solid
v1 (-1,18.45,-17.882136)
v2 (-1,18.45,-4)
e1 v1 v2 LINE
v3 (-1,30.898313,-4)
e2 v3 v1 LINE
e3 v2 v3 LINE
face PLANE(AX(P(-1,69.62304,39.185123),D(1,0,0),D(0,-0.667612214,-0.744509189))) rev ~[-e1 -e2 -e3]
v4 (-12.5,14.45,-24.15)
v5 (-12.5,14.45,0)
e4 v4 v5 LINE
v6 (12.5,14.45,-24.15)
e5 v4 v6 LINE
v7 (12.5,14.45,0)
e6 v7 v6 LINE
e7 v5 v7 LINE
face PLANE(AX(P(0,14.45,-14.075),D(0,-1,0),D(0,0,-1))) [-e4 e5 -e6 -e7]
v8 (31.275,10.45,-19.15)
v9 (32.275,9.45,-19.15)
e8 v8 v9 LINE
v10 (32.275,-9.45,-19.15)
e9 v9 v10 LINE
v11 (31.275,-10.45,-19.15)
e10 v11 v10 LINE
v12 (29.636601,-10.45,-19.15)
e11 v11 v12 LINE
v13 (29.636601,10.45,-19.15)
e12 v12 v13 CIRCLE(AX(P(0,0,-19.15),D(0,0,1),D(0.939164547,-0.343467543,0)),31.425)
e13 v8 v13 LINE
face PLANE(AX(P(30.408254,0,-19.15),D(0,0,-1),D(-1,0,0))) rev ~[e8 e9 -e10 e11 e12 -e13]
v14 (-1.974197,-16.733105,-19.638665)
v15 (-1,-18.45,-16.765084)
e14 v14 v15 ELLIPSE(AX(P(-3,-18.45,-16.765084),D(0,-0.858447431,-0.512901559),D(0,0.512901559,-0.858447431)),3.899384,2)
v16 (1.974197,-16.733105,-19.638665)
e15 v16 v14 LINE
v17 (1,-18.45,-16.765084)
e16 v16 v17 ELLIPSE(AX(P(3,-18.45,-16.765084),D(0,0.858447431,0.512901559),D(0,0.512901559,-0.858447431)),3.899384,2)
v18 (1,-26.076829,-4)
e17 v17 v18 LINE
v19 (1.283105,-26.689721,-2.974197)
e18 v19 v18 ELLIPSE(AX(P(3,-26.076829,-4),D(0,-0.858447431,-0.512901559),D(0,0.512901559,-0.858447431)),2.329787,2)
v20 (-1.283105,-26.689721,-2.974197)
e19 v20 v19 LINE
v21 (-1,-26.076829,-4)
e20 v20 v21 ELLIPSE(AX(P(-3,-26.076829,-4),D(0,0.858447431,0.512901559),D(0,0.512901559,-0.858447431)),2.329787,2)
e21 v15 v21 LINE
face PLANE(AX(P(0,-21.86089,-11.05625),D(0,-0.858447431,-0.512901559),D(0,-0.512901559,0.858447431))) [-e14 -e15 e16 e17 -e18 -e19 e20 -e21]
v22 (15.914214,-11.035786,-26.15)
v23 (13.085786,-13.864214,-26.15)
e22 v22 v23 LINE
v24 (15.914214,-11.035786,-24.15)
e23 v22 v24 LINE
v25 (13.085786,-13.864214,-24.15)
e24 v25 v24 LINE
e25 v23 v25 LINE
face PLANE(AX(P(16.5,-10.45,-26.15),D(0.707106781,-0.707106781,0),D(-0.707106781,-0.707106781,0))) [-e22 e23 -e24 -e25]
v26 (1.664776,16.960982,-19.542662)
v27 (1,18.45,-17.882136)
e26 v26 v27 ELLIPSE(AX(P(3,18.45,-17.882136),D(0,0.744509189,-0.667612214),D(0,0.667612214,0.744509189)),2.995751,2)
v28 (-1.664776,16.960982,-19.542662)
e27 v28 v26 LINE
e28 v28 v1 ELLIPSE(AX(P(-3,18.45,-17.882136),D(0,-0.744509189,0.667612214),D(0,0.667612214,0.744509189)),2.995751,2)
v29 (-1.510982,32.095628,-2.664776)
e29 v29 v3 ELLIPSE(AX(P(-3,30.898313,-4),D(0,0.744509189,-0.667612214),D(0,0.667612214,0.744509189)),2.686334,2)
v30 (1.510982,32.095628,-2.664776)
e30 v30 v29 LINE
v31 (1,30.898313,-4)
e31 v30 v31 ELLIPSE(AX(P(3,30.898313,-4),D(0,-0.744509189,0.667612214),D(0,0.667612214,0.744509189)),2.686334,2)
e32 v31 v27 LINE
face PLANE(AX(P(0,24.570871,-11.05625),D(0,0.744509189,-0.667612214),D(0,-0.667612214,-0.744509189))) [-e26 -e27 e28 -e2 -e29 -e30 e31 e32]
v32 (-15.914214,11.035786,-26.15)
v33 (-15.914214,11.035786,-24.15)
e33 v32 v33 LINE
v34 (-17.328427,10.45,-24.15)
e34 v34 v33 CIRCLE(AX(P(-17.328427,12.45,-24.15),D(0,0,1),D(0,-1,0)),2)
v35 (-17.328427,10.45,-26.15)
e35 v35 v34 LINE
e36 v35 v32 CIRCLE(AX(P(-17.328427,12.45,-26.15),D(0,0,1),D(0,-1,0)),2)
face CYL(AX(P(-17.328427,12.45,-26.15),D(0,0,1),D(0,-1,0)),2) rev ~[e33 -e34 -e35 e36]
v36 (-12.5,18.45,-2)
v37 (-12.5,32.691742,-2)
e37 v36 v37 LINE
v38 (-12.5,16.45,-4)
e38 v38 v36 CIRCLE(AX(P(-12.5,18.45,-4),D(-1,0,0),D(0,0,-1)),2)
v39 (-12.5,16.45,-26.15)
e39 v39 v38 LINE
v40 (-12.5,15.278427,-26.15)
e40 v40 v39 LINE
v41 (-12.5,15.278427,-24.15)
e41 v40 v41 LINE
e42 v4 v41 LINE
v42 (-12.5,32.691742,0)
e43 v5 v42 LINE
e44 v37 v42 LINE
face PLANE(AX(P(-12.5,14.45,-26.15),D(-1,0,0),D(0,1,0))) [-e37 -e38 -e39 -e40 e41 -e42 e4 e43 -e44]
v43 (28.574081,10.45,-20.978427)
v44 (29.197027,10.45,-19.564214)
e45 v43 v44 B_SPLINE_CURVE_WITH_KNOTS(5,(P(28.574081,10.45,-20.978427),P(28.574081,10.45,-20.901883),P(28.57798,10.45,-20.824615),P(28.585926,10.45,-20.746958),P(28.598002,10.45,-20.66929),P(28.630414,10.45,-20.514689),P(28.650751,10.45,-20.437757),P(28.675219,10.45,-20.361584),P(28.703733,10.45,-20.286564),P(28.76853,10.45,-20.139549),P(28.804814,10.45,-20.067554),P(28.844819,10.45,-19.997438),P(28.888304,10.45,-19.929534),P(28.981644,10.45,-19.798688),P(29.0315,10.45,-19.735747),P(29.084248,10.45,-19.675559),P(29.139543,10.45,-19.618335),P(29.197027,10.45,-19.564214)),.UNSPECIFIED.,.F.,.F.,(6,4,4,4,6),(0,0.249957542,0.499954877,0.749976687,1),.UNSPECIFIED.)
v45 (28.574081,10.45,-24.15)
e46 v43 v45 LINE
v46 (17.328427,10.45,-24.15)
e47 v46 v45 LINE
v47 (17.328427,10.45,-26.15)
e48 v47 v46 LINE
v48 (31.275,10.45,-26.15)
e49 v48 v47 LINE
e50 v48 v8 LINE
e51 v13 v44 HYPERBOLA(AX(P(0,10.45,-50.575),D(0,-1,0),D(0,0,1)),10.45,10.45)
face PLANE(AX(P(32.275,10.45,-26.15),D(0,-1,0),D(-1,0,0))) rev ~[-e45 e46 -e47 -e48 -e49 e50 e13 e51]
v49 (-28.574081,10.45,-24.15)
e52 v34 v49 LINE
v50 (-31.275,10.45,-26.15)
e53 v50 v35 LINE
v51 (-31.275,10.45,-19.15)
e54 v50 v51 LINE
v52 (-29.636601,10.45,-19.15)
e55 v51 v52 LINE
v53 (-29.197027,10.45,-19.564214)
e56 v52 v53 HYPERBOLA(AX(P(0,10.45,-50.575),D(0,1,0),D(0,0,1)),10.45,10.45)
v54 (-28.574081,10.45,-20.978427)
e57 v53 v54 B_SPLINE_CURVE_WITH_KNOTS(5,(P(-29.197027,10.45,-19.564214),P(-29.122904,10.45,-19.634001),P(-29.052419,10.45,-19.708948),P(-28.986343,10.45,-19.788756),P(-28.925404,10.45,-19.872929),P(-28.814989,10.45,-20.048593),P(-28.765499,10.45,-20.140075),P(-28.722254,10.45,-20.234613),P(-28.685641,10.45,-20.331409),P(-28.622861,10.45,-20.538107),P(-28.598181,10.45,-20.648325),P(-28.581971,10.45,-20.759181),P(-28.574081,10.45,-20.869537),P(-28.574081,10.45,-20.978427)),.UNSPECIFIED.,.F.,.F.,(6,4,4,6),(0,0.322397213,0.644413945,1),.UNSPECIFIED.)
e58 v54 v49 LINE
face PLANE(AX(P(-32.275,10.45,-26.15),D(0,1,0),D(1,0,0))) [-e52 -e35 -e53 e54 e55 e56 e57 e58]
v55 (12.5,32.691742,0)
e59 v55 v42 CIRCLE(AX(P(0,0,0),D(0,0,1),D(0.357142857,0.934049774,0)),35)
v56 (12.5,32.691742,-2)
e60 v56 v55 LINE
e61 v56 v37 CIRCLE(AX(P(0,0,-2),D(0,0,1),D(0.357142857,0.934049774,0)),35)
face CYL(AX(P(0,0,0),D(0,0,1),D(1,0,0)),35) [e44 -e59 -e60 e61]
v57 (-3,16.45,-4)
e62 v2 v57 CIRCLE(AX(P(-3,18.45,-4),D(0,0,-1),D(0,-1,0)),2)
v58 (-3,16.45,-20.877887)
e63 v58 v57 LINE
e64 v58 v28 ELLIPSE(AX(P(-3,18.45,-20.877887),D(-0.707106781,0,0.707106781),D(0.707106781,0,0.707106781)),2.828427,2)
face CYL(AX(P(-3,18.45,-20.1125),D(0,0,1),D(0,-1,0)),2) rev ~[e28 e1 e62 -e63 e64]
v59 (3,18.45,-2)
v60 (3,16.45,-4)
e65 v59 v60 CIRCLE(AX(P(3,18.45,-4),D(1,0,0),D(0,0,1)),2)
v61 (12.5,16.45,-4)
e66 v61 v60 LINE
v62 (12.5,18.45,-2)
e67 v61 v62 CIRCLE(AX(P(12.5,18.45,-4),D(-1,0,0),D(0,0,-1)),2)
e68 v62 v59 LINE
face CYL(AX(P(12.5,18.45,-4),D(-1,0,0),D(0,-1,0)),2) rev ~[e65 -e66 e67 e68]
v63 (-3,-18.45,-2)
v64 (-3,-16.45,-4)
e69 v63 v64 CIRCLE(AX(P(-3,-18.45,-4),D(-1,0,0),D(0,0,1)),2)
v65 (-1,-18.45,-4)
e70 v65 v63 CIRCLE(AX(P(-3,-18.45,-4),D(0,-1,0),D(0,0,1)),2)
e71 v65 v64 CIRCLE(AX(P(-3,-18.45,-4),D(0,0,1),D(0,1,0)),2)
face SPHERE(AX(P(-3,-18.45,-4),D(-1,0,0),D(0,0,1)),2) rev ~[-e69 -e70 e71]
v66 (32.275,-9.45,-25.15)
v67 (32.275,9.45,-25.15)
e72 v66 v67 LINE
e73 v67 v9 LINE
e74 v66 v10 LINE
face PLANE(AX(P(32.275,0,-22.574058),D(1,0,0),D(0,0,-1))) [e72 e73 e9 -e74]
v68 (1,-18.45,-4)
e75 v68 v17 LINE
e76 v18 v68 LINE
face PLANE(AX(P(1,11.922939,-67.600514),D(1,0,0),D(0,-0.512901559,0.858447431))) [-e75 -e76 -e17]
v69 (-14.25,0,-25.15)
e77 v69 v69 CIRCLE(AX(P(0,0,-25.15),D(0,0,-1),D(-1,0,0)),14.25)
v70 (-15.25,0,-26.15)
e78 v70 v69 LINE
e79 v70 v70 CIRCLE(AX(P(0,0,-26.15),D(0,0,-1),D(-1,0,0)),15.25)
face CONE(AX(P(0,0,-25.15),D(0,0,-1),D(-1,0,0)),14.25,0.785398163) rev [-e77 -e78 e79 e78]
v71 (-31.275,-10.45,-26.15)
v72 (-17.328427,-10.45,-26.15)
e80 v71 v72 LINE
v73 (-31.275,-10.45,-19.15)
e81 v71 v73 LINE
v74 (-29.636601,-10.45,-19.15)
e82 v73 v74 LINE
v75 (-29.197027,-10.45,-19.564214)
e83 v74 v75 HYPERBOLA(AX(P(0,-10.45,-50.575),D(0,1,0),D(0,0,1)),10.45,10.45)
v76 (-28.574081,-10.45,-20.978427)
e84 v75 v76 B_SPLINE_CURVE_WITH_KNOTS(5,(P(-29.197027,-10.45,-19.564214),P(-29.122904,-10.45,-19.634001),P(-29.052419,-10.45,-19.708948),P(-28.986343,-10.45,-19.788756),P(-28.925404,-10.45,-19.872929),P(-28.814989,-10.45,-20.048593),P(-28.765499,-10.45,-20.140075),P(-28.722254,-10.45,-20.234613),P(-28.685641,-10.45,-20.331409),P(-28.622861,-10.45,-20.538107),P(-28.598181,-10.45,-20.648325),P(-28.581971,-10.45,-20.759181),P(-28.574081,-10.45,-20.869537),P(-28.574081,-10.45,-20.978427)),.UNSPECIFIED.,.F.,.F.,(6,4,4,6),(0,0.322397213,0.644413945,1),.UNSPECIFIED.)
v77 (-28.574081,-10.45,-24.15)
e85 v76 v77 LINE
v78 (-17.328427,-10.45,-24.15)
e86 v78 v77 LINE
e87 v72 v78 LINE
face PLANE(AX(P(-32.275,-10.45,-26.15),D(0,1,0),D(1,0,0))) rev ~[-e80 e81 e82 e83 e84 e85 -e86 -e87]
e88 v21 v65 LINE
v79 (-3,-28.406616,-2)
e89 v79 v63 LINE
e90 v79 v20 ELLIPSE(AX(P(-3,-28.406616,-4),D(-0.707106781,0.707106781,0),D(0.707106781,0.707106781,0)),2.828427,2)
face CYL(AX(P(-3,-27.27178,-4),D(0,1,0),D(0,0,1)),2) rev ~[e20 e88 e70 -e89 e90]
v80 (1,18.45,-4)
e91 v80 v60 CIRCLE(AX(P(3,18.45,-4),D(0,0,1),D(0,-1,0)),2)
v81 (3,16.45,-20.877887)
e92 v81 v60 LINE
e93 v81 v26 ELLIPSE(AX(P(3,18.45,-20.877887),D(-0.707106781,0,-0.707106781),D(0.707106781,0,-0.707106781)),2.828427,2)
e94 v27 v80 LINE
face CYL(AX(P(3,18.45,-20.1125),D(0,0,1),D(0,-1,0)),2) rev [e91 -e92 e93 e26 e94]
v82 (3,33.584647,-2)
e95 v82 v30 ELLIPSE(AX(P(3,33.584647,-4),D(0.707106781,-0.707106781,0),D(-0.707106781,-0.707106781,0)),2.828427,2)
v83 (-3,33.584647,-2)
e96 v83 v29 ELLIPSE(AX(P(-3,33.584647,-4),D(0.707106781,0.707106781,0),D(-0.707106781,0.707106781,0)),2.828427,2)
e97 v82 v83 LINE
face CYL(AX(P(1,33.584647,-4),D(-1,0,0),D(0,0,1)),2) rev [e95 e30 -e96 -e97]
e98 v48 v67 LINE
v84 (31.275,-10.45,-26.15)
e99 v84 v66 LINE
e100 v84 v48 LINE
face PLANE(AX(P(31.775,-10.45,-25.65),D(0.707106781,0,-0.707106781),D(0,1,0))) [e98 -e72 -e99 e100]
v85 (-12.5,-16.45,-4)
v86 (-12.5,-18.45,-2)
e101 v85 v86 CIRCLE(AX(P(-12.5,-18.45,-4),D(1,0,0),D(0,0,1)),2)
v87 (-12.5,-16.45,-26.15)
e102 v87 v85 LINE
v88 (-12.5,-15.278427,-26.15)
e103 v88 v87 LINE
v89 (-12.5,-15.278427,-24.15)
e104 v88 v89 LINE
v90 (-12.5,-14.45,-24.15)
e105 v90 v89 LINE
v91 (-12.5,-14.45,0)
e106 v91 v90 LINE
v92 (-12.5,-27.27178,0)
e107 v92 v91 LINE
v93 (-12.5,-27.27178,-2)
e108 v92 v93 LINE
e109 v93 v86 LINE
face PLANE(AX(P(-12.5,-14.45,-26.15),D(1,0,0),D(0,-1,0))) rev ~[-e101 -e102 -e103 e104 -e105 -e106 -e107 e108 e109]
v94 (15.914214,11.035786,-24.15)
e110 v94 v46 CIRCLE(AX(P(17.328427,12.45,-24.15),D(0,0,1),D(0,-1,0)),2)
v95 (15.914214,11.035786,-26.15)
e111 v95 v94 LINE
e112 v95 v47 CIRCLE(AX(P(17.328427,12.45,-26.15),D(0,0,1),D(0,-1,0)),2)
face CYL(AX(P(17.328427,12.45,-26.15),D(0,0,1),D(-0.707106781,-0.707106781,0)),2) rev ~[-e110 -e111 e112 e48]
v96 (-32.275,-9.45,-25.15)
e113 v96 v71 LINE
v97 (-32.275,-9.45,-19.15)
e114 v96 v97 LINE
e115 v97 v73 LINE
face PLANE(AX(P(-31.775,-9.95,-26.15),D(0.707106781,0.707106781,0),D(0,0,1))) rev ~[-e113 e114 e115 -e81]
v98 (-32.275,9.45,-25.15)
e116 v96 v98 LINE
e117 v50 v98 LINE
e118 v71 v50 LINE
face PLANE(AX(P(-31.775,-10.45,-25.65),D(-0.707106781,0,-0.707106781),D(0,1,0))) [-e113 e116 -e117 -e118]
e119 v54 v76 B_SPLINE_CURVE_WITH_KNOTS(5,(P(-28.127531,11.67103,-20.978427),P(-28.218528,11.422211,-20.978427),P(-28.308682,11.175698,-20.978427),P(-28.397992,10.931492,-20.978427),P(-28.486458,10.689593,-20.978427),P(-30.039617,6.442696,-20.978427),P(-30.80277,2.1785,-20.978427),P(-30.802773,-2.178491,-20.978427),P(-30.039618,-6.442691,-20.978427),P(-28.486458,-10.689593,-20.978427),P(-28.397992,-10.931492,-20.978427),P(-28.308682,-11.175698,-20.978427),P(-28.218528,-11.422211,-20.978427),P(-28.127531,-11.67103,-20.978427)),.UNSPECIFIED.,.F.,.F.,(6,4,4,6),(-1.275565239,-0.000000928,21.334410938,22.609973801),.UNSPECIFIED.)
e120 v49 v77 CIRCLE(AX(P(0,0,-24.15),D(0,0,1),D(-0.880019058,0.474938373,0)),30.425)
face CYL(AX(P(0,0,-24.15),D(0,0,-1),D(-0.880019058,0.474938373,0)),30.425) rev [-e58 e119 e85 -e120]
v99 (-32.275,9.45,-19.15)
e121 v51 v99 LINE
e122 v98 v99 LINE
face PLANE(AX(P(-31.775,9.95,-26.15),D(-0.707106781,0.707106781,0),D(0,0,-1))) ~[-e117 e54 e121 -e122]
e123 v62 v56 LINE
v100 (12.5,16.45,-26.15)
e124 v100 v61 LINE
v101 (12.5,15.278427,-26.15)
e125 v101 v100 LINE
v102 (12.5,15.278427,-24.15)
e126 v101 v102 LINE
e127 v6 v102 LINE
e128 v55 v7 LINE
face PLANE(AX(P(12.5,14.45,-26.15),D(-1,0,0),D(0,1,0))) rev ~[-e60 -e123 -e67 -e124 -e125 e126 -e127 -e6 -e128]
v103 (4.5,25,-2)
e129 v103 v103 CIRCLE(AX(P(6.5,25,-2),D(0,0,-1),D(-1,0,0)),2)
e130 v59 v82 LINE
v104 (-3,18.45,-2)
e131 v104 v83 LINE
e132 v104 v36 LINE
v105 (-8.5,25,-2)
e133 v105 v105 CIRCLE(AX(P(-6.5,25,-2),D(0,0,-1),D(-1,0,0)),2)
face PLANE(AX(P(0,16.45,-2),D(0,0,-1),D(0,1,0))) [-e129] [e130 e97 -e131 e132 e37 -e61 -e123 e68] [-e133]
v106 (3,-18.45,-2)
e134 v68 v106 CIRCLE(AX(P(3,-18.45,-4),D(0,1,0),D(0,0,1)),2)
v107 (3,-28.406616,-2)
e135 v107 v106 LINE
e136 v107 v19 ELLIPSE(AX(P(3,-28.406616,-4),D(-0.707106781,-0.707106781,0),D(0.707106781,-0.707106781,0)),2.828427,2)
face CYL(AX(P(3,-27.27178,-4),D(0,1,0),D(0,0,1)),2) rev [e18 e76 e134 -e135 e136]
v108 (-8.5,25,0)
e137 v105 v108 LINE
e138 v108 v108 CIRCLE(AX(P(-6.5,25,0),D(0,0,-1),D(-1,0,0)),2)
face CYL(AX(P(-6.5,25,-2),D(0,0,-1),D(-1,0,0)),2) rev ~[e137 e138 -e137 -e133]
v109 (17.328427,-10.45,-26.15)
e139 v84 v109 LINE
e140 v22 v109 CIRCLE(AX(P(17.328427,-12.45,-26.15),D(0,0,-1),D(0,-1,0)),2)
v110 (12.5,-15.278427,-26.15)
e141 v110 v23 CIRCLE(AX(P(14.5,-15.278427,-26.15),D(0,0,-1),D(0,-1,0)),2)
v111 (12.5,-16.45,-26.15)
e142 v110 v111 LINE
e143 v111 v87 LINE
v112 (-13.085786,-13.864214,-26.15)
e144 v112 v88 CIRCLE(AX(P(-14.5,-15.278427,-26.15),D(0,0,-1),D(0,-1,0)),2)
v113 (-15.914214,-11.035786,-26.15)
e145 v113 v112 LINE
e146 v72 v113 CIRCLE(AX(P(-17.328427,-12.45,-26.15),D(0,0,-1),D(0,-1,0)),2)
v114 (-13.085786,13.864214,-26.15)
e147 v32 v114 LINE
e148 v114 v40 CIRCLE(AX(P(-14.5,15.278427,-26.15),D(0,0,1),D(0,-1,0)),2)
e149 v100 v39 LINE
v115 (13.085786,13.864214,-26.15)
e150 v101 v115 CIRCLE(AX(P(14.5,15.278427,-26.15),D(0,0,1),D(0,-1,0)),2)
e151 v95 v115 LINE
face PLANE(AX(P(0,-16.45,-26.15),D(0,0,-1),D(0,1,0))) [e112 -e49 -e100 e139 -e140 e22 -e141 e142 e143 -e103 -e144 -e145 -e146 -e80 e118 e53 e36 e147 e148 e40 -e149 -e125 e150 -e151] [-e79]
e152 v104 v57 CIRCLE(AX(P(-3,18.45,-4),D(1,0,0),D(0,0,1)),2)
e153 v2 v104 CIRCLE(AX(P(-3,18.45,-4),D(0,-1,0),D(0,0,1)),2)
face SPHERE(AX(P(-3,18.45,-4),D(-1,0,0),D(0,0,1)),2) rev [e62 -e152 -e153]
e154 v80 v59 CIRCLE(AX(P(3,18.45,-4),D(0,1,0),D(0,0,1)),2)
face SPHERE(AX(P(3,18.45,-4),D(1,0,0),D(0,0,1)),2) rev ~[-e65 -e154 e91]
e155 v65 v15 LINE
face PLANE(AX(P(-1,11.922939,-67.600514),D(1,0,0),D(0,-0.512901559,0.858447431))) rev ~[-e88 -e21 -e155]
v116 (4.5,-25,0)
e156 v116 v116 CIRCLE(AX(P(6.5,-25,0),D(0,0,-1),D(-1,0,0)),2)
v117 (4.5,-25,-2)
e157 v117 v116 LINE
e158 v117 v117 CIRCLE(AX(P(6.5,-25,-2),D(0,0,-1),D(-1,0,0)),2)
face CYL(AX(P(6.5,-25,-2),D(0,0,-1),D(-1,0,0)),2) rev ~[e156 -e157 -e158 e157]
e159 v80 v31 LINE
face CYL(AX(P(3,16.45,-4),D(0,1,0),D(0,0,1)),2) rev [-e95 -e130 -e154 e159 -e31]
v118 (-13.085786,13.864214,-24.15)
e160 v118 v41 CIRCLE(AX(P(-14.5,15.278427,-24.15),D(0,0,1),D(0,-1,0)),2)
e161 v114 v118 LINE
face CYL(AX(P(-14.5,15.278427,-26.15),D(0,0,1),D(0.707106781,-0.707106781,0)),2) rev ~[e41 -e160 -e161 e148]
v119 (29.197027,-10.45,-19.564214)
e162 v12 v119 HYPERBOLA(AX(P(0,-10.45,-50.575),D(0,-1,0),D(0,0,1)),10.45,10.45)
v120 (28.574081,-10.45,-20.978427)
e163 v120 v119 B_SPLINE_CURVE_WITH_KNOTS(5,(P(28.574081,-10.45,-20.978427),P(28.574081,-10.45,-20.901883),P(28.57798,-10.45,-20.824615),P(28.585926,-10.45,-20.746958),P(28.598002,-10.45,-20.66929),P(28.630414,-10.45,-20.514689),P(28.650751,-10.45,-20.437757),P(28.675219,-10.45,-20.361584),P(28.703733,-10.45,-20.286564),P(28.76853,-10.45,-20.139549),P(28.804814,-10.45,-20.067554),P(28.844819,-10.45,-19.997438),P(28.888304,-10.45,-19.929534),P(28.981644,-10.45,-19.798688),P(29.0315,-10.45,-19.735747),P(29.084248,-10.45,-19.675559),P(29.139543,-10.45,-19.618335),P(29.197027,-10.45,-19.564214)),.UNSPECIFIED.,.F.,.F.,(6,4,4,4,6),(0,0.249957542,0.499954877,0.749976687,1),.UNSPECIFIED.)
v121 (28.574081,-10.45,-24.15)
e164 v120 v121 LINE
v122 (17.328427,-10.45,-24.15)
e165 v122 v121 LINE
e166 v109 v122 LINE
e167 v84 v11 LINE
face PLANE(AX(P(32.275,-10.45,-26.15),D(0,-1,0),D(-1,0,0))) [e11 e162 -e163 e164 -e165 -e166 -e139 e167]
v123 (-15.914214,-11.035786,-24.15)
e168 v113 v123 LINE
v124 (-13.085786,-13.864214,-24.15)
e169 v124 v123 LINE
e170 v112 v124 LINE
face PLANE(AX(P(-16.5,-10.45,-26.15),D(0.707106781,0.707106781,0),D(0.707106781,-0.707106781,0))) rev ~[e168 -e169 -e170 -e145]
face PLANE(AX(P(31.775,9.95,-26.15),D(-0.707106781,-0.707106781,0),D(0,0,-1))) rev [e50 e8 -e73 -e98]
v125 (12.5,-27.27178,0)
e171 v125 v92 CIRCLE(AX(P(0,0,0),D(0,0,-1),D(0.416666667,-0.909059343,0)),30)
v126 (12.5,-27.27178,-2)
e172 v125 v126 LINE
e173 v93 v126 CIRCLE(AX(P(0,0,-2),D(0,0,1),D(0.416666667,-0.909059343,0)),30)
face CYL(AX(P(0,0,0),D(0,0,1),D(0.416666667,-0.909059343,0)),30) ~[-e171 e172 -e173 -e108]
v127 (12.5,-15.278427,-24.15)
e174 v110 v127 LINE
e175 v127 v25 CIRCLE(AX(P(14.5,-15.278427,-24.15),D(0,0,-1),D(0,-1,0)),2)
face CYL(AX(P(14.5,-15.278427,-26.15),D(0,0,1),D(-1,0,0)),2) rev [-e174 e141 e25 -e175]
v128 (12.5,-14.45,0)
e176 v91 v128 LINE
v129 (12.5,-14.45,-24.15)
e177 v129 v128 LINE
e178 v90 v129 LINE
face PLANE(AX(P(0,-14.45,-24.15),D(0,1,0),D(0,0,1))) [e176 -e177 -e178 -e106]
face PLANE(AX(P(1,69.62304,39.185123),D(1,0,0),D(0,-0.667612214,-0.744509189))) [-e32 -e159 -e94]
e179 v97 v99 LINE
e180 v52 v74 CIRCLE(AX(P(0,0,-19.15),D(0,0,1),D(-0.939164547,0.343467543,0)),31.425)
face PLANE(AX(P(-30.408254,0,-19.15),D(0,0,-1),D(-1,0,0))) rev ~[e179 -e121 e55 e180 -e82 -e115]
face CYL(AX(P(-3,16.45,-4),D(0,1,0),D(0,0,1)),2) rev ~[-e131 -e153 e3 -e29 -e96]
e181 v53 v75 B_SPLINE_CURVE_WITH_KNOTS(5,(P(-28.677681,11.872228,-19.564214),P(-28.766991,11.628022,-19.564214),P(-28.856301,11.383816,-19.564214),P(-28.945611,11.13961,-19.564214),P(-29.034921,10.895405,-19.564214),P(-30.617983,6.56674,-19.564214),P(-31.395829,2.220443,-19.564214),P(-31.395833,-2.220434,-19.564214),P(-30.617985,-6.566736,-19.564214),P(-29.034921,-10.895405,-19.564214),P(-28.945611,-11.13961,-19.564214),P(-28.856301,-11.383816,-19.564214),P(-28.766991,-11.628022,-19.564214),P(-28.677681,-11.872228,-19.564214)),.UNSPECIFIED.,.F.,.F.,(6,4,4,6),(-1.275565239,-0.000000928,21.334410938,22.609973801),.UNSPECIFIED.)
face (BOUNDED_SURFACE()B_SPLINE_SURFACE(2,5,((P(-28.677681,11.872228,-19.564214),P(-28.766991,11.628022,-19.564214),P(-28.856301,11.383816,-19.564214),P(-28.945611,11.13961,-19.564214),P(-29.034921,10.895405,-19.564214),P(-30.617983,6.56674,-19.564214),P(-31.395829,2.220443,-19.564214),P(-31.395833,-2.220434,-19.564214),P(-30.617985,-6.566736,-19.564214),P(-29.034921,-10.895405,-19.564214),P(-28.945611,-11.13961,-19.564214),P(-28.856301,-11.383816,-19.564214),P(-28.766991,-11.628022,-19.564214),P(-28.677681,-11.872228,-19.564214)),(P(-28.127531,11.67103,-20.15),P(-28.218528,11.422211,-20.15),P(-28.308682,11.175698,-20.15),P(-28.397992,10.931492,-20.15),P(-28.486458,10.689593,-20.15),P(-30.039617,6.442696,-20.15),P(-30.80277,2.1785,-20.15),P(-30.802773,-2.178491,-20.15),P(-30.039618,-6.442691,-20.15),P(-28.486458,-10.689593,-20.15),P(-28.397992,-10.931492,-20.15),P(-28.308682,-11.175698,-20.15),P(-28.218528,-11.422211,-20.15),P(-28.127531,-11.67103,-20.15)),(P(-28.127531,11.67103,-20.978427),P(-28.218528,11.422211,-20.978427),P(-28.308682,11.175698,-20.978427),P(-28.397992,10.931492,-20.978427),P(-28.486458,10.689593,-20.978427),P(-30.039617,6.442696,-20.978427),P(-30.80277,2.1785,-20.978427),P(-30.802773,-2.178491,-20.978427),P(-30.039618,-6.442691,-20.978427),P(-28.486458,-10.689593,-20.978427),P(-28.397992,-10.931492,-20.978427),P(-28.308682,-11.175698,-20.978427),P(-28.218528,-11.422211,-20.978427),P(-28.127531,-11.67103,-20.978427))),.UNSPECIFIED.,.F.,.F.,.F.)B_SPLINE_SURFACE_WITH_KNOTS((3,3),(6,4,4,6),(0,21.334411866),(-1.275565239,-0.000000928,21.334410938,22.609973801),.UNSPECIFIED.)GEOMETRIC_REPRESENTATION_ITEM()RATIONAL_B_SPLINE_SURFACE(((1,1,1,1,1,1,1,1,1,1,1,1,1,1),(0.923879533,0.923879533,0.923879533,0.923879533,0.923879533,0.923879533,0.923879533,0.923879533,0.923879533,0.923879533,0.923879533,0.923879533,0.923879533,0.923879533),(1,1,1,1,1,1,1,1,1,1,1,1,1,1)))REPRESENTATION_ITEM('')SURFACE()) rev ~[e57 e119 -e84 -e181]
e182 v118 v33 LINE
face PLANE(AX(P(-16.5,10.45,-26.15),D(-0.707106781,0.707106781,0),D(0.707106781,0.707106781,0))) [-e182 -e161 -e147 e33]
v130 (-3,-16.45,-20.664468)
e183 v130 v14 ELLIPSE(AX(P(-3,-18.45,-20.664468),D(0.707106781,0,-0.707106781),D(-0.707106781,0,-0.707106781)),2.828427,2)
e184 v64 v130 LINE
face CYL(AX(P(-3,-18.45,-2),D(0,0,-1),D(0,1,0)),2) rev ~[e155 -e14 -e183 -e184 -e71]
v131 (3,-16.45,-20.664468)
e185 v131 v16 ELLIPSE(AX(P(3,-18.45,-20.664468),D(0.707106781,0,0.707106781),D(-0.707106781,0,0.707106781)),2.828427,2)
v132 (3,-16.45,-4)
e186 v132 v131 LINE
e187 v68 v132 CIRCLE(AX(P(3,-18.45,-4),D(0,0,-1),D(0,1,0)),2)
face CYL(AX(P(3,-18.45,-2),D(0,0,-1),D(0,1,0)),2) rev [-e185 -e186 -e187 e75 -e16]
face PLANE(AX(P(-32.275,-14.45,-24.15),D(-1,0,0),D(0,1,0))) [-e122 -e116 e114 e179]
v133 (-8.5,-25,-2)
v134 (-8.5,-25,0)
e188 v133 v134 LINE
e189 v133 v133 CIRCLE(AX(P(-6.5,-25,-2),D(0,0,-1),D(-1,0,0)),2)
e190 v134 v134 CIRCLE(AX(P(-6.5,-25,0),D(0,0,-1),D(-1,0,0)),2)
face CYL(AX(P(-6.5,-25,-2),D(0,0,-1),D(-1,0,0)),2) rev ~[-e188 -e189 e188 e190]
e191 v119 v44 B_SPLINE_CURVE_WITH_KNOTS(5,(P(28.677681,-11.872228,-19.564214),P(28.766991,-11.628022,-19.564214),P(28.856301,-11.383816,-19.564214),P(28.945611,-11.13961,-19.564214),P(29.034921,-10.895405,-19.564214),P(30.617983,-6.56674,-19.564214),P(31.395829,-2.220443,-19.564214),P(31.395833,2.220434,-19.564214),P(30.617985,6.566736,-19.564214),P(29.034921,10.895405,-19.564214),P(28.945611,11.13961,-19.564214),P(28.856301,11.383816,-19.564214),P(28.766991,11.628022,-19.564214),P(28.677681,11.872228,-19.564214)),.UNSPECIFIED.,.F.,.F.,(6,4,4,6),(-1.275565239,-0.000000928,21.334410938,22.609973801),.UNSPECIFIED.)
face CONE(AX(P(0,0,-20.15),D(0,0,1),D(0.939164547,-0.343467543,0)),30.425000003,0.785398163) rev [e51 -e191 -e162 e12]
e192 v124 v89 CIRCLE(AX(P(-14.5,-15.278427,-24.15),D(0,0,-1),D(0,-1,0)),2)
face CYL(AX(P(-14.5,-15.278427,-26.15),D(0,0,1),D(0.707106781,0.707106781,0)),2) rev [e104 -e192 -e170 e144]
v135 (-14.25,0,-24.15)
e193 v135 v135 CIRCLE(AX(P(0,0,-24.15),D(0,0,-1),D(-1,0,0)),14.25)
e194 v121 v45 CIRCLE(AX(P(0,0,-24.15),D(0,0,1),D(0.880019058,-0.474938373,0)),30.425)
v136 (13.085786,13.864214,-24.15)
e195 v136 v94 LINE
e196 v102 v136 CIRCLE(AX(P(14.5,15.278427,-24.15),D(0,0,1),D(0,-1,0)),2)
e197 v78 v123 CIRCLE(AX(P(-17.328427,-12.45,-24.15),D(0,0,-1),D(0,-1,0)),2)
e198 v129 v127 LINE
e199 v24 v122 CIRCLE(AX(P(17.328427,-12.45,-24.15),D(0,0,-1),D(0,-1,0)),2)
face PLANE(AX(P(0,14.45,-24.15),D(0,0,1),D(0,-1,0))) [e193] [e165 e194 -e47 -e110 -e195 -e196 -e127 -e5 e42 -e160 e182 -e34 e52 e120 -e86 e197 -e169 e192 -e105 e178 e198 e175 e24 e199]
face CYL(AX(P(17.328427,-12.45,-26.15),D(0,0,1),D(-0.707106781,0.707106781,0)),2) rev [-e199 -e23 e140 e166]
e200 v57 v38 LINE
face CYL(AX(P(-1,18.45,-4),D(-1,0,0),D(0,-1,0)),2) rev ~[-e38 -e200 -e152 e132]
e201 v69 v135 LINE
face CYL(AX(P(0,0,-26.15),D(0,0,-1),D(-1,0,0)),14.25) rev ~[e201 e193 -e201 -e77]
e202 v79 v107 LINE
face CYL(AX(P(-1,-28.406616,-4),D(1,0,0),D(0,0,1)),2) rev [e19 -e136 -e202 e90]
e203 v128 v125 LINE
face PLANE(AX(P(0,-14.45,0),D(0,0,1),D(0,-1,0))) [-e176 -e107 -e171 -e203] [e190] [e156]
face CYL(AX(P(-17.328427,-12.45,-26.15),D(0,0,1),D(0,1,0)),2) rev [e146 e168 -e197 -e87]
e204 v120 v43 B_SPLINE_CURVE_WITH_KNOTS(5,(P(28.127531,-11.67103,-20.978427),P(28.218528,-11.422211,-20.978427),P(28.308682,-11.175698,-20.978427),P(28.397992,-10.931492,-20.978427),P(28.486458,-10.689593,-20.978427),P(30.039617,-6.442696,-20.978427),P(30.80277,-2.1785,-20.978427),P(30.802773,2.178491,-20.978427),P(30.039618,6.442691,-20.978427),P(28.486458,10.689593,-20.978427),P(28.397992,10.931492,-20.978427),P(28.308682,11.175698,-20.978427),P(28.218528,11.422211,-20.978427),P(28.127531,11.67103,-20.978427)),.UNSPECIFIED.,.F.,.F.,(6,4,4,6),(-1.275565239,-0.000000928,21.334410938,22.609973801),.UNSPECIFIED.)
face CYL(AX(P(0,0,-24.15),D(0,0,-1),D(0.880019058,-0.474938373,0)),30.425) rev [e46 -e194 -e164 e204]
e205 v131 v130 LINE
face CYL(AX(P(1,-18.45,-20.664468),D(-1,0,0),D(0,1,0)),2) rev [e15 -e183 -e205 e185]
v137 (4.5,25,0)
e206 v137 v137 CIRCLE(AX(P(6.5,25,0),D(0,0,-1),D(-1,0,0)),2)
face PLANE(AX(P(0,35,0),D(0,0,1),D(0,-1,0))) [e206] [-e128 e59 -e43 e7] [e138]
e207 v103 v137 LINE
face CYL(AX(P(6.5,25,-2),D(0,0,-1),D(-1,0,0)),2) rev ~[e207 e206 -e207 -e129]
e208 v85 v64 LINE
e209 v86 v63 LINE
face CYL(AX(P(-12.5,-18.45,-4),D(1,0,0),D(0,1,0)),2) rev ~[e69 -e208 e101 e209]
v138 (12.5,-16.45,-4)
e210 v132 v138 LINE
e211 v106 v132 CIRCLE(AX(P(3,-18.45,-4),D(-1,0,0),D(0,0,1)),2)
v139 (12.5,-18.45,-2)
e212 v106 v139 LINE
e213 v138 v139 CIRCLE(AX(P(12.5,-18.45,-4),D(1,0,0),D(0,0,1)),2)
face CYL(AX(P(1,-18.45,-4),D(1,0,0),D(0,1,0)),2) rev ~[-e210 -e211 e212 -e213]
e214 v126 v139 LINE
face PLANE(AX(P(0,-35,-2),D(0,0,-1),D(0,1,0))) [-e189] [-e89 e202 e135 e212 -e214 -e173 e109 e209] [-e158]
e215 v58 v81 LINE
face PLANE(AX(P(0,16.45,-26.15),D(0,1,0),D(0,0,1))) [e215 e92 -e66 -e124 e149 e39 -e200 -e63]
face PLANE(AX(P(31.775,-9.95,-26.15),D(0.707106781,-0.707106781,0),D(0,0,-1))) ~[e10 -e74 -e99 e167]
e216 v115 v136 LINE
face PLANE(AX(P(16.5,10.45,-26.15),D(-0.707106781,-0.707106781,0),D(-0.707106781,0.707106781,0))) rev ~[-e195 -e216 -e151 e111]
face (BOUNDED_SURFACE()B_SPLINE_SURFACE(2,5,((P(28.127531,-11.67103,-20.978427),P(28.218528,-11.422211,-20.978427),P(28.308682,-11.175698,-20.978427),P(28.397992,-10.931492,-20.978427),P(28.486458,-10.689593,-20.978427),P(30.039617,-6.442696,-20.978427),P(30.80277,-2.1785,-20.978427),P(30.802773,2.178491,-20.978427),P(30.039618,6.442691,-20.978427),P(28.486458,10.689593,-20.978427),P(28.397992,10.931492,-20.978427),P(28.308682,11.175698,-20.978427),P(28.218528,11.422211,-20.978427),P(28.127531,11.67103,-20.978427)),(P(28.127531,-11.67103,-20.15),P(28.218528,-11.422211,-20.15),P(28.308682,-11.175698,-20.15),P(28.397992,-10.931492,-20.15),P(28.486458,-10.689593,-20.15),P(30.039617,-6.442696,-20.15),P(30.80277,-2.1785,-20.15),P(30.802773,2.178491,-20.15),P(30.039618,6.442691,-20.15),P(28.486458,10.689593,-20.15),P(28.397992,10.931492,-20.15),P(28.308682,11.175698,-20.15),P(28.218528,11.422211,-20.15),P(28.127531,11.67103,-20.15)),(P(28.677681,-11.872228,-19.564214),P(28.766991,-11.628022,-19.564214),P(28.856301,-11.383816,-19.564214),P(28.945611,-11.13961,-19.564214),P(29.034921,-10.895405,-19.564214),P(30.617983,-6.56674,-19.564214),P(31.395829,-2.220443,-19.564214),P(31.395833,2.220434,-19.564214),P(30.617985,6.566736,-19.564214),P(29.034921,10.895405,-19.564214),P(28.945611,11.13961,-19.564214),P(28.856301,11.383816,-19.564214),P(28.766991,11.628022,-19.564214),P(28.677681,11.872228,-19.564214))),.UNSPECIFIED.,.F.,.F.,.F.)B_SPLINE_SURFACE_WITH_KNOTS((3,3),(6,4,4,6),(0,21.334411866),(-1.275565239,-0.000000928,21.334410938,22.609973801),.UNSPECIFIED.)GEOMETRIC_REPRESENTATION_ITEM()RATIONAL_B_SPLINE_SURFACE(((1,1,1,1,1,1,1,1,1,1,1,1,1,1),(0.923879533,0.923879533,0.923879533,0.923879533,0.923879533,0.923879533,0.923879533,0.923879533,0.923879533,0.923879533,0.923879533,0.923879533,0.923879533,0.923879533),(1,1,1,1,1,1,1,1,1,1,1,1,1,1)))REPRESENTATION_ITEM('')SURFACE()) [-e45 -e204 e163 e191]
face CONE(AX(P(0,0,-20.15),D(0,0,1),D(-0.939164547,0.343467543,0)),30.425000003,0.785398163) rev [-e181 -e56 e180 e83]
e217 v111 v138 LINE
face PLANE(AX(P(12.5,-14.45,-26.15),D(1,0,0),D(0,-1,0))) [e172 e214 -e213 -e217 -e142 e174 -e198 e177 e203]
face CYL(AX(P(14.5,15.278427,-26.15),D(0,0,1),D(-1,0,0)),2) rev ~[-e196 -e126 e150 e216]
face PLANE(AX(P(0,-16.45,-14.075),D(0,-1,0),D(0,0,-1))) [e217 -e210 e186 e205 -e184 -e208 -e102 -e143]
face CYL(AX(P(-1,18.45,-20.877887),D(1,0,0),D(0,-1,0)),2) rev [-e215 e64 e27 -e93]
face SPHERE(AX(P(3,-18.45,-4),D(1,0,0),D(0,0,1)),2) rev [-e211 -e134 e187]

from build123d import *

# Parameters (mm, degrees)
BOSS_EXTRUDE1_DEPTH     = 12.5
SKETCH2_R               = 45
SKETCH2_R_2             = 35
CUT_EXTRUDE_THIN1_DEPTH = 10
CUT_EXTRUDE1_DEPTH      = 10
BOSS_EXTRUDE2_DEPTH     = 32.275
SKETCH5_R               = 14.25
CUT_EXTRUDE2_DEPTH      = 40
CHAMFER1_SIZE           = 5
CHAMFER2_SIZE           = 1
BOSS_EXTRUDE3_DEPTH     = 5
CHAMFER3_SIZE           = 5
FILLET1_R               = 3
RIB2_REACH              = 56.318
SKETCH7_WALL_W          = 134.965083932
SKETCH7_WALL_H          = 2
RIB3_REACH              = 56.318
SKETCH8_WALL_W          = 131.736112932
SKETCH8_WALL_H          = 2
CUT_EXTRUDE3_DEPTH      = 55.318487934
CHAMFER4_SIZE           = 1
SKETCH10_R              = 2
CUT_EXTRUDE4_DEPTH      = 5
CHAMFER5_SIZE           = 1
FILLET2_R               = 2


with BuildPart() as part:
    # Sketch1 → Boss-Extrude1 (new, symmetric)
    with BuildSketch(Plane(origin=(0, 0, 0), x_dir=(0, 0, -1), z_dir=(1, 0, 0))):
        Polygon((0, 35), (0, 14.45), (24.15, 14.45), (24.15, -14.45), (0, -14.45), (0, -35), (2, -35), (2, -16.45), (26.15, -16.45), (26.15, 16.45), (2, 16.45), (2, 35), align=None)
    extrude(amount=BOSS_EXTRUDE1_DEPTH, both=True)

    # Sketch2 → Cut-Extrude-Thin1 (cut)
    with BuildSketch(Plane.XY):
        Circle(SKETCH2_R)
        Circle(SKETCH2_R_2, mode=Mode.SUBTRACT)
    extrude(amount=-CUT_EXTRUDE_THIN1_DEPTH, mode=Mode.SUBTRACT)

    # Sketch3 → Cut-Extrude1 (cut)
    with BuildSketch(Plane.XY):
        with BuildLine():
            Line((12.5, -32.691742077), (12.5, -27.271780287))
            ThreePointArc((12.5, -27.271780287), (0, -30), (-12.5, -27.271780287))
            Line((-12.5, -27.271780287), (-12.5, -32.691742077))
            ThreePointArc((-12.5, -32.691742077), (0, -35), (12.5, -32.691742077))
        make_face()
    extrude(amount=-CUT_EXTRUDE1_DEPTH, mode=Mode.SUBTRACT)

    # Sketch4 → Boss-Extrude2 (add, symmetric)
    with BuildSketch(Plane(origin=(0, 0, 0), x_dir=(0, 0, -1), z_dir=(1, 0, 0))):
        Polygon((14.075, 16.45), (14.075, 14.45), (24.15, 14.45), (24.15, -14.45), (14.075, -14.45), (14.075, -16.45), (26.15, -16.45), (26.15, 16.45), align=None)
    extrude(amount=BOSS_EXTRUDE2_DEPTH, both=True)

    # Sketch5 → Cut-Extrude2 (cut)
    with BuildSketch(Plane(origin=(0, 0, -26.15), x_dir=(-1, 0, 0), z_dir=(0, 0, -1))):
        Circle(SKETCH5_R)
    extrude(amount=-CUT_EXTRUDE2_DEPTH, mode=Mode.SUBTRACT)

    # Chamfer1
    chamfer1_edges = [part.edges().sort_by_distance(p)[0] for p in [
        (12.5, -15.45, -14.075),
        (-12.5, -15.45, -14.075),
        (12.5, 15.45, -14.075),
        (-12.5, 15.45, -14.075),
    ]]
    chamfer(chamfer1_edges, length=CHAMFER1_SIZE)

    # Chamfer2
    chamfer2_edges = [part.edges().sort_by_distance(p)[0] for p in [
        (14.25, 0, -26.15),
    ]]
    chamfer(chamfer2_edges, length=CHAMFER2_SIZE)

    # Sketch6 → Boss-Extrude3 (add)
    with BuildSketch(Plane.XY.offset(-24.15)):
        with BuildLine():
            Line((-32.275, -14.45), (-32.275, 14.45))
            Line((-32.275, 14.45), (-26.774579829, 14.45))
            ThreePointArc((-26.774579829, 14.45), (-30.425, 0), (-26.774579829, -14.45))
            Line((-26.774579829, -14.45), (-32.275, -14.45))
        make_face()
        with BuildLine():
            Line((32.275, -14.45), (26.774579829, -14.45))
            ThreePointArc((26.774579829, -14.45), (30.425, 0), (26.774579829, 14.45))
            Line((26.774579829, 14.45), (32.275, 14.45))
            Line((32.275, 14.45), (32.275, -14.45))
        make_face()
    extrude(amount=BOSS_EXTRUDE3_DEPTH)

    # Chamfer3
    chamfer3_edges = [part.edges().sort_by_distance(p)[0] for p in [
        (-32.275, 16.45, -20.1125),
        (-32.275, -16.45, -20.1125),
        (32.275, -16.45, -20.1125),
        (32.275, 16.45, -20.1125),
    ]]
    chamfer(chamfer3_edges, length=CHAMFER3_SIZE)

    # Fillet1
    fillet1_edges = [part.edges().sort_by_distance(p)[0] for p in [
        (-28.024789914, -14.45, -19.15),
        (28.024789914, -14.45, -19.15),
        (28.024789914, 14.45, -19.15),
        (-28.024789914, 14.45, -19.15),
    ]]
    fillet(fillet1_edges, radius=FILLET1_R)

    # Sketch7 wall → Rib2 (add, up to next)
    with BuildSketch(Plane(origin=(0, 24.570871039, -11.05625), x_dir=(0, -0.667612213603, -0.744509188827), z_dir=(0, 0.744509188827, -0.667612213603)), mode=Mode.PRIVATE) as rib2_sk1:
        Rectangle(SKETCH7_WALL_W, SKETCH7_WALL_H)
    rib2_tool1 = extrude(rib2_sk1.sketch, amount=-RIB2_REACH, mode=Mode.PRIVATE) - part.part
    add(rib2_tool1.solids().sort_by_distance((0, 24.570871039, -11.05625))[0])

    # Sketch8 wall → Rib3 (add, up to next)
    with BuildSketch(Plane(origin=(0, -21.860890144, -11.05625), x_dir=(0, -0.512901558692, 0.858447430593), z_dir=(0, -0.858447430593, -0.512901558692)), mode=Mode.PRIVATE) as rib3_sk1:
        Rectangle(SKETCH8_WALL_W, SKETCH8_WALL_H)
    rib3_tool1 = extrude(rib3_sk1.sketch, amount=-RIB3_REACH, mode=Mode.PRIVATE) - part.part
    add(rib3_tool1.solids().sort_by_distance((0, -21.860890144, -11.05625))[0])

    # Sketch9 → Cut-Extrude3 (cut, through all)
    with BuildSketch(Plane(origin=(0, 0, -26.15), x_dir=(-1, 0, 0), z_dir=(0, 0, -1))):
        Polygon((12.5, 14.45), (12.5, 16.45), (27.275, 16.45), (32.275, 11.45), (32.275, 10.45), (16.5, 10.45), align=None)
        Polygon((-27.275, 16.45), (-32.275, 11.45), (-32.275, 10.45), (-16.5, 10.45), (-12.5, 14.45), (-12.5, 16.45), align=None)
        Polygon((27.275, -16.45), (32.275, -11.45), (32.275, -10.45), (16.5, -10.45), (12.5, -14.45), (12.5, -16.45), align=None)
        Polygon((-12.5, -14.45), (-12.5, -16.45), (-27.275, -16.45), (-32.275, -11.45), (-32.275, -10.45), (-16.5, -10.45), align=None)
    extrude(amount=-CUT_EXTRUDE3_DEPTH, mode=Mode.SUBTRACT)

    # Chamfer4
    chamfer4_edges = [part.edges().sort_by_distance(p)[0] for p in [
        (30.425, 0, -19.15),
        (-30.425, 0, -19.15),
    ]]
    chamfer(chamfer4_edges, length=CHAMFER4_SIZE)

    # Sketch10 → Cut-Extrude4 (cut)
    with BuildSketch(Plane(origin=(0, 0, -2), x_dir=(-1, 0, 0), z_dir=(0, 0, -1))):
        with Locations((6.5, 25)):
            Circle(SKETCH10_R)
        with Locations((-6.5, 25)):
            Circle(SKETCH10_R)
        with Locations((-6.5, -25)):
            Circle(SKETCH10_R)
        with Locations((6.5, -25)):
            Circle(SKETCH10_R)
    extrude(amount=-CUT_EXTRUDE4_DEPTH, mode=Mode.SUBTRACT)

    # Chamfer5
    chamfer5_edges = [part.edges().sort_by_distance(p)[0] for p in [
        (-32.275, 10.45, -22.65),
        (32.275, 10.45, -22.65),
        (-32.275, 0, -26.15),
        (-32.275, -10.45, -22.65),
        (32.275, 0, -26.15),
        (32.275, -10.45, -22.65),
    ]]
    chamfer(chamfer5_edges, length=CHAMFER5_SIZE)

    # Fillet2
    fillet2_edges = [part.edges().sort_by_distance(p)[0] for p in [
        (-30.425, 0, -20.15),
        (30.425, 0, -20.15),
        (12.5, 14.45, -25.15),
        (-12.5, 14.45, -25.15),
        (-12.5, -14.45, -25.15),
        (12.5, -14.45, -25.15),
        (16.5, -10.45, -25.15),
        (16.5, 10.45, -25.15),
        (-16.5, 10.45, -25.15),
        (-16.5, -10.45, -25.15),
        (6.75, -16.45, -2),
        (-6.75, -16.45, -2),
        (-6.75, 16.45, -2),
        (6.75, 16.45, -2),
        (0, -27.271780287, -2),
        (0, 32.691742077, -2),
        (0, 16.45, -20.112500001),
        (0, -16.45, -20.112500001),
        (1, -21.860890144, -2),
        (1, -16.45, -11.05625),
        (-1, -21.860890144, -2),
        (-1, -16.45, -11.05625),
        (-1, 24.570871039, -2),
        (-1, 16.45, -11.05625),
        (1, 24.570871039, -2),
        (1, 16.45, -11.05625),
    ]]
    fillet(fillet2_edges, radius=FILLET2_R)


solid = part.part
